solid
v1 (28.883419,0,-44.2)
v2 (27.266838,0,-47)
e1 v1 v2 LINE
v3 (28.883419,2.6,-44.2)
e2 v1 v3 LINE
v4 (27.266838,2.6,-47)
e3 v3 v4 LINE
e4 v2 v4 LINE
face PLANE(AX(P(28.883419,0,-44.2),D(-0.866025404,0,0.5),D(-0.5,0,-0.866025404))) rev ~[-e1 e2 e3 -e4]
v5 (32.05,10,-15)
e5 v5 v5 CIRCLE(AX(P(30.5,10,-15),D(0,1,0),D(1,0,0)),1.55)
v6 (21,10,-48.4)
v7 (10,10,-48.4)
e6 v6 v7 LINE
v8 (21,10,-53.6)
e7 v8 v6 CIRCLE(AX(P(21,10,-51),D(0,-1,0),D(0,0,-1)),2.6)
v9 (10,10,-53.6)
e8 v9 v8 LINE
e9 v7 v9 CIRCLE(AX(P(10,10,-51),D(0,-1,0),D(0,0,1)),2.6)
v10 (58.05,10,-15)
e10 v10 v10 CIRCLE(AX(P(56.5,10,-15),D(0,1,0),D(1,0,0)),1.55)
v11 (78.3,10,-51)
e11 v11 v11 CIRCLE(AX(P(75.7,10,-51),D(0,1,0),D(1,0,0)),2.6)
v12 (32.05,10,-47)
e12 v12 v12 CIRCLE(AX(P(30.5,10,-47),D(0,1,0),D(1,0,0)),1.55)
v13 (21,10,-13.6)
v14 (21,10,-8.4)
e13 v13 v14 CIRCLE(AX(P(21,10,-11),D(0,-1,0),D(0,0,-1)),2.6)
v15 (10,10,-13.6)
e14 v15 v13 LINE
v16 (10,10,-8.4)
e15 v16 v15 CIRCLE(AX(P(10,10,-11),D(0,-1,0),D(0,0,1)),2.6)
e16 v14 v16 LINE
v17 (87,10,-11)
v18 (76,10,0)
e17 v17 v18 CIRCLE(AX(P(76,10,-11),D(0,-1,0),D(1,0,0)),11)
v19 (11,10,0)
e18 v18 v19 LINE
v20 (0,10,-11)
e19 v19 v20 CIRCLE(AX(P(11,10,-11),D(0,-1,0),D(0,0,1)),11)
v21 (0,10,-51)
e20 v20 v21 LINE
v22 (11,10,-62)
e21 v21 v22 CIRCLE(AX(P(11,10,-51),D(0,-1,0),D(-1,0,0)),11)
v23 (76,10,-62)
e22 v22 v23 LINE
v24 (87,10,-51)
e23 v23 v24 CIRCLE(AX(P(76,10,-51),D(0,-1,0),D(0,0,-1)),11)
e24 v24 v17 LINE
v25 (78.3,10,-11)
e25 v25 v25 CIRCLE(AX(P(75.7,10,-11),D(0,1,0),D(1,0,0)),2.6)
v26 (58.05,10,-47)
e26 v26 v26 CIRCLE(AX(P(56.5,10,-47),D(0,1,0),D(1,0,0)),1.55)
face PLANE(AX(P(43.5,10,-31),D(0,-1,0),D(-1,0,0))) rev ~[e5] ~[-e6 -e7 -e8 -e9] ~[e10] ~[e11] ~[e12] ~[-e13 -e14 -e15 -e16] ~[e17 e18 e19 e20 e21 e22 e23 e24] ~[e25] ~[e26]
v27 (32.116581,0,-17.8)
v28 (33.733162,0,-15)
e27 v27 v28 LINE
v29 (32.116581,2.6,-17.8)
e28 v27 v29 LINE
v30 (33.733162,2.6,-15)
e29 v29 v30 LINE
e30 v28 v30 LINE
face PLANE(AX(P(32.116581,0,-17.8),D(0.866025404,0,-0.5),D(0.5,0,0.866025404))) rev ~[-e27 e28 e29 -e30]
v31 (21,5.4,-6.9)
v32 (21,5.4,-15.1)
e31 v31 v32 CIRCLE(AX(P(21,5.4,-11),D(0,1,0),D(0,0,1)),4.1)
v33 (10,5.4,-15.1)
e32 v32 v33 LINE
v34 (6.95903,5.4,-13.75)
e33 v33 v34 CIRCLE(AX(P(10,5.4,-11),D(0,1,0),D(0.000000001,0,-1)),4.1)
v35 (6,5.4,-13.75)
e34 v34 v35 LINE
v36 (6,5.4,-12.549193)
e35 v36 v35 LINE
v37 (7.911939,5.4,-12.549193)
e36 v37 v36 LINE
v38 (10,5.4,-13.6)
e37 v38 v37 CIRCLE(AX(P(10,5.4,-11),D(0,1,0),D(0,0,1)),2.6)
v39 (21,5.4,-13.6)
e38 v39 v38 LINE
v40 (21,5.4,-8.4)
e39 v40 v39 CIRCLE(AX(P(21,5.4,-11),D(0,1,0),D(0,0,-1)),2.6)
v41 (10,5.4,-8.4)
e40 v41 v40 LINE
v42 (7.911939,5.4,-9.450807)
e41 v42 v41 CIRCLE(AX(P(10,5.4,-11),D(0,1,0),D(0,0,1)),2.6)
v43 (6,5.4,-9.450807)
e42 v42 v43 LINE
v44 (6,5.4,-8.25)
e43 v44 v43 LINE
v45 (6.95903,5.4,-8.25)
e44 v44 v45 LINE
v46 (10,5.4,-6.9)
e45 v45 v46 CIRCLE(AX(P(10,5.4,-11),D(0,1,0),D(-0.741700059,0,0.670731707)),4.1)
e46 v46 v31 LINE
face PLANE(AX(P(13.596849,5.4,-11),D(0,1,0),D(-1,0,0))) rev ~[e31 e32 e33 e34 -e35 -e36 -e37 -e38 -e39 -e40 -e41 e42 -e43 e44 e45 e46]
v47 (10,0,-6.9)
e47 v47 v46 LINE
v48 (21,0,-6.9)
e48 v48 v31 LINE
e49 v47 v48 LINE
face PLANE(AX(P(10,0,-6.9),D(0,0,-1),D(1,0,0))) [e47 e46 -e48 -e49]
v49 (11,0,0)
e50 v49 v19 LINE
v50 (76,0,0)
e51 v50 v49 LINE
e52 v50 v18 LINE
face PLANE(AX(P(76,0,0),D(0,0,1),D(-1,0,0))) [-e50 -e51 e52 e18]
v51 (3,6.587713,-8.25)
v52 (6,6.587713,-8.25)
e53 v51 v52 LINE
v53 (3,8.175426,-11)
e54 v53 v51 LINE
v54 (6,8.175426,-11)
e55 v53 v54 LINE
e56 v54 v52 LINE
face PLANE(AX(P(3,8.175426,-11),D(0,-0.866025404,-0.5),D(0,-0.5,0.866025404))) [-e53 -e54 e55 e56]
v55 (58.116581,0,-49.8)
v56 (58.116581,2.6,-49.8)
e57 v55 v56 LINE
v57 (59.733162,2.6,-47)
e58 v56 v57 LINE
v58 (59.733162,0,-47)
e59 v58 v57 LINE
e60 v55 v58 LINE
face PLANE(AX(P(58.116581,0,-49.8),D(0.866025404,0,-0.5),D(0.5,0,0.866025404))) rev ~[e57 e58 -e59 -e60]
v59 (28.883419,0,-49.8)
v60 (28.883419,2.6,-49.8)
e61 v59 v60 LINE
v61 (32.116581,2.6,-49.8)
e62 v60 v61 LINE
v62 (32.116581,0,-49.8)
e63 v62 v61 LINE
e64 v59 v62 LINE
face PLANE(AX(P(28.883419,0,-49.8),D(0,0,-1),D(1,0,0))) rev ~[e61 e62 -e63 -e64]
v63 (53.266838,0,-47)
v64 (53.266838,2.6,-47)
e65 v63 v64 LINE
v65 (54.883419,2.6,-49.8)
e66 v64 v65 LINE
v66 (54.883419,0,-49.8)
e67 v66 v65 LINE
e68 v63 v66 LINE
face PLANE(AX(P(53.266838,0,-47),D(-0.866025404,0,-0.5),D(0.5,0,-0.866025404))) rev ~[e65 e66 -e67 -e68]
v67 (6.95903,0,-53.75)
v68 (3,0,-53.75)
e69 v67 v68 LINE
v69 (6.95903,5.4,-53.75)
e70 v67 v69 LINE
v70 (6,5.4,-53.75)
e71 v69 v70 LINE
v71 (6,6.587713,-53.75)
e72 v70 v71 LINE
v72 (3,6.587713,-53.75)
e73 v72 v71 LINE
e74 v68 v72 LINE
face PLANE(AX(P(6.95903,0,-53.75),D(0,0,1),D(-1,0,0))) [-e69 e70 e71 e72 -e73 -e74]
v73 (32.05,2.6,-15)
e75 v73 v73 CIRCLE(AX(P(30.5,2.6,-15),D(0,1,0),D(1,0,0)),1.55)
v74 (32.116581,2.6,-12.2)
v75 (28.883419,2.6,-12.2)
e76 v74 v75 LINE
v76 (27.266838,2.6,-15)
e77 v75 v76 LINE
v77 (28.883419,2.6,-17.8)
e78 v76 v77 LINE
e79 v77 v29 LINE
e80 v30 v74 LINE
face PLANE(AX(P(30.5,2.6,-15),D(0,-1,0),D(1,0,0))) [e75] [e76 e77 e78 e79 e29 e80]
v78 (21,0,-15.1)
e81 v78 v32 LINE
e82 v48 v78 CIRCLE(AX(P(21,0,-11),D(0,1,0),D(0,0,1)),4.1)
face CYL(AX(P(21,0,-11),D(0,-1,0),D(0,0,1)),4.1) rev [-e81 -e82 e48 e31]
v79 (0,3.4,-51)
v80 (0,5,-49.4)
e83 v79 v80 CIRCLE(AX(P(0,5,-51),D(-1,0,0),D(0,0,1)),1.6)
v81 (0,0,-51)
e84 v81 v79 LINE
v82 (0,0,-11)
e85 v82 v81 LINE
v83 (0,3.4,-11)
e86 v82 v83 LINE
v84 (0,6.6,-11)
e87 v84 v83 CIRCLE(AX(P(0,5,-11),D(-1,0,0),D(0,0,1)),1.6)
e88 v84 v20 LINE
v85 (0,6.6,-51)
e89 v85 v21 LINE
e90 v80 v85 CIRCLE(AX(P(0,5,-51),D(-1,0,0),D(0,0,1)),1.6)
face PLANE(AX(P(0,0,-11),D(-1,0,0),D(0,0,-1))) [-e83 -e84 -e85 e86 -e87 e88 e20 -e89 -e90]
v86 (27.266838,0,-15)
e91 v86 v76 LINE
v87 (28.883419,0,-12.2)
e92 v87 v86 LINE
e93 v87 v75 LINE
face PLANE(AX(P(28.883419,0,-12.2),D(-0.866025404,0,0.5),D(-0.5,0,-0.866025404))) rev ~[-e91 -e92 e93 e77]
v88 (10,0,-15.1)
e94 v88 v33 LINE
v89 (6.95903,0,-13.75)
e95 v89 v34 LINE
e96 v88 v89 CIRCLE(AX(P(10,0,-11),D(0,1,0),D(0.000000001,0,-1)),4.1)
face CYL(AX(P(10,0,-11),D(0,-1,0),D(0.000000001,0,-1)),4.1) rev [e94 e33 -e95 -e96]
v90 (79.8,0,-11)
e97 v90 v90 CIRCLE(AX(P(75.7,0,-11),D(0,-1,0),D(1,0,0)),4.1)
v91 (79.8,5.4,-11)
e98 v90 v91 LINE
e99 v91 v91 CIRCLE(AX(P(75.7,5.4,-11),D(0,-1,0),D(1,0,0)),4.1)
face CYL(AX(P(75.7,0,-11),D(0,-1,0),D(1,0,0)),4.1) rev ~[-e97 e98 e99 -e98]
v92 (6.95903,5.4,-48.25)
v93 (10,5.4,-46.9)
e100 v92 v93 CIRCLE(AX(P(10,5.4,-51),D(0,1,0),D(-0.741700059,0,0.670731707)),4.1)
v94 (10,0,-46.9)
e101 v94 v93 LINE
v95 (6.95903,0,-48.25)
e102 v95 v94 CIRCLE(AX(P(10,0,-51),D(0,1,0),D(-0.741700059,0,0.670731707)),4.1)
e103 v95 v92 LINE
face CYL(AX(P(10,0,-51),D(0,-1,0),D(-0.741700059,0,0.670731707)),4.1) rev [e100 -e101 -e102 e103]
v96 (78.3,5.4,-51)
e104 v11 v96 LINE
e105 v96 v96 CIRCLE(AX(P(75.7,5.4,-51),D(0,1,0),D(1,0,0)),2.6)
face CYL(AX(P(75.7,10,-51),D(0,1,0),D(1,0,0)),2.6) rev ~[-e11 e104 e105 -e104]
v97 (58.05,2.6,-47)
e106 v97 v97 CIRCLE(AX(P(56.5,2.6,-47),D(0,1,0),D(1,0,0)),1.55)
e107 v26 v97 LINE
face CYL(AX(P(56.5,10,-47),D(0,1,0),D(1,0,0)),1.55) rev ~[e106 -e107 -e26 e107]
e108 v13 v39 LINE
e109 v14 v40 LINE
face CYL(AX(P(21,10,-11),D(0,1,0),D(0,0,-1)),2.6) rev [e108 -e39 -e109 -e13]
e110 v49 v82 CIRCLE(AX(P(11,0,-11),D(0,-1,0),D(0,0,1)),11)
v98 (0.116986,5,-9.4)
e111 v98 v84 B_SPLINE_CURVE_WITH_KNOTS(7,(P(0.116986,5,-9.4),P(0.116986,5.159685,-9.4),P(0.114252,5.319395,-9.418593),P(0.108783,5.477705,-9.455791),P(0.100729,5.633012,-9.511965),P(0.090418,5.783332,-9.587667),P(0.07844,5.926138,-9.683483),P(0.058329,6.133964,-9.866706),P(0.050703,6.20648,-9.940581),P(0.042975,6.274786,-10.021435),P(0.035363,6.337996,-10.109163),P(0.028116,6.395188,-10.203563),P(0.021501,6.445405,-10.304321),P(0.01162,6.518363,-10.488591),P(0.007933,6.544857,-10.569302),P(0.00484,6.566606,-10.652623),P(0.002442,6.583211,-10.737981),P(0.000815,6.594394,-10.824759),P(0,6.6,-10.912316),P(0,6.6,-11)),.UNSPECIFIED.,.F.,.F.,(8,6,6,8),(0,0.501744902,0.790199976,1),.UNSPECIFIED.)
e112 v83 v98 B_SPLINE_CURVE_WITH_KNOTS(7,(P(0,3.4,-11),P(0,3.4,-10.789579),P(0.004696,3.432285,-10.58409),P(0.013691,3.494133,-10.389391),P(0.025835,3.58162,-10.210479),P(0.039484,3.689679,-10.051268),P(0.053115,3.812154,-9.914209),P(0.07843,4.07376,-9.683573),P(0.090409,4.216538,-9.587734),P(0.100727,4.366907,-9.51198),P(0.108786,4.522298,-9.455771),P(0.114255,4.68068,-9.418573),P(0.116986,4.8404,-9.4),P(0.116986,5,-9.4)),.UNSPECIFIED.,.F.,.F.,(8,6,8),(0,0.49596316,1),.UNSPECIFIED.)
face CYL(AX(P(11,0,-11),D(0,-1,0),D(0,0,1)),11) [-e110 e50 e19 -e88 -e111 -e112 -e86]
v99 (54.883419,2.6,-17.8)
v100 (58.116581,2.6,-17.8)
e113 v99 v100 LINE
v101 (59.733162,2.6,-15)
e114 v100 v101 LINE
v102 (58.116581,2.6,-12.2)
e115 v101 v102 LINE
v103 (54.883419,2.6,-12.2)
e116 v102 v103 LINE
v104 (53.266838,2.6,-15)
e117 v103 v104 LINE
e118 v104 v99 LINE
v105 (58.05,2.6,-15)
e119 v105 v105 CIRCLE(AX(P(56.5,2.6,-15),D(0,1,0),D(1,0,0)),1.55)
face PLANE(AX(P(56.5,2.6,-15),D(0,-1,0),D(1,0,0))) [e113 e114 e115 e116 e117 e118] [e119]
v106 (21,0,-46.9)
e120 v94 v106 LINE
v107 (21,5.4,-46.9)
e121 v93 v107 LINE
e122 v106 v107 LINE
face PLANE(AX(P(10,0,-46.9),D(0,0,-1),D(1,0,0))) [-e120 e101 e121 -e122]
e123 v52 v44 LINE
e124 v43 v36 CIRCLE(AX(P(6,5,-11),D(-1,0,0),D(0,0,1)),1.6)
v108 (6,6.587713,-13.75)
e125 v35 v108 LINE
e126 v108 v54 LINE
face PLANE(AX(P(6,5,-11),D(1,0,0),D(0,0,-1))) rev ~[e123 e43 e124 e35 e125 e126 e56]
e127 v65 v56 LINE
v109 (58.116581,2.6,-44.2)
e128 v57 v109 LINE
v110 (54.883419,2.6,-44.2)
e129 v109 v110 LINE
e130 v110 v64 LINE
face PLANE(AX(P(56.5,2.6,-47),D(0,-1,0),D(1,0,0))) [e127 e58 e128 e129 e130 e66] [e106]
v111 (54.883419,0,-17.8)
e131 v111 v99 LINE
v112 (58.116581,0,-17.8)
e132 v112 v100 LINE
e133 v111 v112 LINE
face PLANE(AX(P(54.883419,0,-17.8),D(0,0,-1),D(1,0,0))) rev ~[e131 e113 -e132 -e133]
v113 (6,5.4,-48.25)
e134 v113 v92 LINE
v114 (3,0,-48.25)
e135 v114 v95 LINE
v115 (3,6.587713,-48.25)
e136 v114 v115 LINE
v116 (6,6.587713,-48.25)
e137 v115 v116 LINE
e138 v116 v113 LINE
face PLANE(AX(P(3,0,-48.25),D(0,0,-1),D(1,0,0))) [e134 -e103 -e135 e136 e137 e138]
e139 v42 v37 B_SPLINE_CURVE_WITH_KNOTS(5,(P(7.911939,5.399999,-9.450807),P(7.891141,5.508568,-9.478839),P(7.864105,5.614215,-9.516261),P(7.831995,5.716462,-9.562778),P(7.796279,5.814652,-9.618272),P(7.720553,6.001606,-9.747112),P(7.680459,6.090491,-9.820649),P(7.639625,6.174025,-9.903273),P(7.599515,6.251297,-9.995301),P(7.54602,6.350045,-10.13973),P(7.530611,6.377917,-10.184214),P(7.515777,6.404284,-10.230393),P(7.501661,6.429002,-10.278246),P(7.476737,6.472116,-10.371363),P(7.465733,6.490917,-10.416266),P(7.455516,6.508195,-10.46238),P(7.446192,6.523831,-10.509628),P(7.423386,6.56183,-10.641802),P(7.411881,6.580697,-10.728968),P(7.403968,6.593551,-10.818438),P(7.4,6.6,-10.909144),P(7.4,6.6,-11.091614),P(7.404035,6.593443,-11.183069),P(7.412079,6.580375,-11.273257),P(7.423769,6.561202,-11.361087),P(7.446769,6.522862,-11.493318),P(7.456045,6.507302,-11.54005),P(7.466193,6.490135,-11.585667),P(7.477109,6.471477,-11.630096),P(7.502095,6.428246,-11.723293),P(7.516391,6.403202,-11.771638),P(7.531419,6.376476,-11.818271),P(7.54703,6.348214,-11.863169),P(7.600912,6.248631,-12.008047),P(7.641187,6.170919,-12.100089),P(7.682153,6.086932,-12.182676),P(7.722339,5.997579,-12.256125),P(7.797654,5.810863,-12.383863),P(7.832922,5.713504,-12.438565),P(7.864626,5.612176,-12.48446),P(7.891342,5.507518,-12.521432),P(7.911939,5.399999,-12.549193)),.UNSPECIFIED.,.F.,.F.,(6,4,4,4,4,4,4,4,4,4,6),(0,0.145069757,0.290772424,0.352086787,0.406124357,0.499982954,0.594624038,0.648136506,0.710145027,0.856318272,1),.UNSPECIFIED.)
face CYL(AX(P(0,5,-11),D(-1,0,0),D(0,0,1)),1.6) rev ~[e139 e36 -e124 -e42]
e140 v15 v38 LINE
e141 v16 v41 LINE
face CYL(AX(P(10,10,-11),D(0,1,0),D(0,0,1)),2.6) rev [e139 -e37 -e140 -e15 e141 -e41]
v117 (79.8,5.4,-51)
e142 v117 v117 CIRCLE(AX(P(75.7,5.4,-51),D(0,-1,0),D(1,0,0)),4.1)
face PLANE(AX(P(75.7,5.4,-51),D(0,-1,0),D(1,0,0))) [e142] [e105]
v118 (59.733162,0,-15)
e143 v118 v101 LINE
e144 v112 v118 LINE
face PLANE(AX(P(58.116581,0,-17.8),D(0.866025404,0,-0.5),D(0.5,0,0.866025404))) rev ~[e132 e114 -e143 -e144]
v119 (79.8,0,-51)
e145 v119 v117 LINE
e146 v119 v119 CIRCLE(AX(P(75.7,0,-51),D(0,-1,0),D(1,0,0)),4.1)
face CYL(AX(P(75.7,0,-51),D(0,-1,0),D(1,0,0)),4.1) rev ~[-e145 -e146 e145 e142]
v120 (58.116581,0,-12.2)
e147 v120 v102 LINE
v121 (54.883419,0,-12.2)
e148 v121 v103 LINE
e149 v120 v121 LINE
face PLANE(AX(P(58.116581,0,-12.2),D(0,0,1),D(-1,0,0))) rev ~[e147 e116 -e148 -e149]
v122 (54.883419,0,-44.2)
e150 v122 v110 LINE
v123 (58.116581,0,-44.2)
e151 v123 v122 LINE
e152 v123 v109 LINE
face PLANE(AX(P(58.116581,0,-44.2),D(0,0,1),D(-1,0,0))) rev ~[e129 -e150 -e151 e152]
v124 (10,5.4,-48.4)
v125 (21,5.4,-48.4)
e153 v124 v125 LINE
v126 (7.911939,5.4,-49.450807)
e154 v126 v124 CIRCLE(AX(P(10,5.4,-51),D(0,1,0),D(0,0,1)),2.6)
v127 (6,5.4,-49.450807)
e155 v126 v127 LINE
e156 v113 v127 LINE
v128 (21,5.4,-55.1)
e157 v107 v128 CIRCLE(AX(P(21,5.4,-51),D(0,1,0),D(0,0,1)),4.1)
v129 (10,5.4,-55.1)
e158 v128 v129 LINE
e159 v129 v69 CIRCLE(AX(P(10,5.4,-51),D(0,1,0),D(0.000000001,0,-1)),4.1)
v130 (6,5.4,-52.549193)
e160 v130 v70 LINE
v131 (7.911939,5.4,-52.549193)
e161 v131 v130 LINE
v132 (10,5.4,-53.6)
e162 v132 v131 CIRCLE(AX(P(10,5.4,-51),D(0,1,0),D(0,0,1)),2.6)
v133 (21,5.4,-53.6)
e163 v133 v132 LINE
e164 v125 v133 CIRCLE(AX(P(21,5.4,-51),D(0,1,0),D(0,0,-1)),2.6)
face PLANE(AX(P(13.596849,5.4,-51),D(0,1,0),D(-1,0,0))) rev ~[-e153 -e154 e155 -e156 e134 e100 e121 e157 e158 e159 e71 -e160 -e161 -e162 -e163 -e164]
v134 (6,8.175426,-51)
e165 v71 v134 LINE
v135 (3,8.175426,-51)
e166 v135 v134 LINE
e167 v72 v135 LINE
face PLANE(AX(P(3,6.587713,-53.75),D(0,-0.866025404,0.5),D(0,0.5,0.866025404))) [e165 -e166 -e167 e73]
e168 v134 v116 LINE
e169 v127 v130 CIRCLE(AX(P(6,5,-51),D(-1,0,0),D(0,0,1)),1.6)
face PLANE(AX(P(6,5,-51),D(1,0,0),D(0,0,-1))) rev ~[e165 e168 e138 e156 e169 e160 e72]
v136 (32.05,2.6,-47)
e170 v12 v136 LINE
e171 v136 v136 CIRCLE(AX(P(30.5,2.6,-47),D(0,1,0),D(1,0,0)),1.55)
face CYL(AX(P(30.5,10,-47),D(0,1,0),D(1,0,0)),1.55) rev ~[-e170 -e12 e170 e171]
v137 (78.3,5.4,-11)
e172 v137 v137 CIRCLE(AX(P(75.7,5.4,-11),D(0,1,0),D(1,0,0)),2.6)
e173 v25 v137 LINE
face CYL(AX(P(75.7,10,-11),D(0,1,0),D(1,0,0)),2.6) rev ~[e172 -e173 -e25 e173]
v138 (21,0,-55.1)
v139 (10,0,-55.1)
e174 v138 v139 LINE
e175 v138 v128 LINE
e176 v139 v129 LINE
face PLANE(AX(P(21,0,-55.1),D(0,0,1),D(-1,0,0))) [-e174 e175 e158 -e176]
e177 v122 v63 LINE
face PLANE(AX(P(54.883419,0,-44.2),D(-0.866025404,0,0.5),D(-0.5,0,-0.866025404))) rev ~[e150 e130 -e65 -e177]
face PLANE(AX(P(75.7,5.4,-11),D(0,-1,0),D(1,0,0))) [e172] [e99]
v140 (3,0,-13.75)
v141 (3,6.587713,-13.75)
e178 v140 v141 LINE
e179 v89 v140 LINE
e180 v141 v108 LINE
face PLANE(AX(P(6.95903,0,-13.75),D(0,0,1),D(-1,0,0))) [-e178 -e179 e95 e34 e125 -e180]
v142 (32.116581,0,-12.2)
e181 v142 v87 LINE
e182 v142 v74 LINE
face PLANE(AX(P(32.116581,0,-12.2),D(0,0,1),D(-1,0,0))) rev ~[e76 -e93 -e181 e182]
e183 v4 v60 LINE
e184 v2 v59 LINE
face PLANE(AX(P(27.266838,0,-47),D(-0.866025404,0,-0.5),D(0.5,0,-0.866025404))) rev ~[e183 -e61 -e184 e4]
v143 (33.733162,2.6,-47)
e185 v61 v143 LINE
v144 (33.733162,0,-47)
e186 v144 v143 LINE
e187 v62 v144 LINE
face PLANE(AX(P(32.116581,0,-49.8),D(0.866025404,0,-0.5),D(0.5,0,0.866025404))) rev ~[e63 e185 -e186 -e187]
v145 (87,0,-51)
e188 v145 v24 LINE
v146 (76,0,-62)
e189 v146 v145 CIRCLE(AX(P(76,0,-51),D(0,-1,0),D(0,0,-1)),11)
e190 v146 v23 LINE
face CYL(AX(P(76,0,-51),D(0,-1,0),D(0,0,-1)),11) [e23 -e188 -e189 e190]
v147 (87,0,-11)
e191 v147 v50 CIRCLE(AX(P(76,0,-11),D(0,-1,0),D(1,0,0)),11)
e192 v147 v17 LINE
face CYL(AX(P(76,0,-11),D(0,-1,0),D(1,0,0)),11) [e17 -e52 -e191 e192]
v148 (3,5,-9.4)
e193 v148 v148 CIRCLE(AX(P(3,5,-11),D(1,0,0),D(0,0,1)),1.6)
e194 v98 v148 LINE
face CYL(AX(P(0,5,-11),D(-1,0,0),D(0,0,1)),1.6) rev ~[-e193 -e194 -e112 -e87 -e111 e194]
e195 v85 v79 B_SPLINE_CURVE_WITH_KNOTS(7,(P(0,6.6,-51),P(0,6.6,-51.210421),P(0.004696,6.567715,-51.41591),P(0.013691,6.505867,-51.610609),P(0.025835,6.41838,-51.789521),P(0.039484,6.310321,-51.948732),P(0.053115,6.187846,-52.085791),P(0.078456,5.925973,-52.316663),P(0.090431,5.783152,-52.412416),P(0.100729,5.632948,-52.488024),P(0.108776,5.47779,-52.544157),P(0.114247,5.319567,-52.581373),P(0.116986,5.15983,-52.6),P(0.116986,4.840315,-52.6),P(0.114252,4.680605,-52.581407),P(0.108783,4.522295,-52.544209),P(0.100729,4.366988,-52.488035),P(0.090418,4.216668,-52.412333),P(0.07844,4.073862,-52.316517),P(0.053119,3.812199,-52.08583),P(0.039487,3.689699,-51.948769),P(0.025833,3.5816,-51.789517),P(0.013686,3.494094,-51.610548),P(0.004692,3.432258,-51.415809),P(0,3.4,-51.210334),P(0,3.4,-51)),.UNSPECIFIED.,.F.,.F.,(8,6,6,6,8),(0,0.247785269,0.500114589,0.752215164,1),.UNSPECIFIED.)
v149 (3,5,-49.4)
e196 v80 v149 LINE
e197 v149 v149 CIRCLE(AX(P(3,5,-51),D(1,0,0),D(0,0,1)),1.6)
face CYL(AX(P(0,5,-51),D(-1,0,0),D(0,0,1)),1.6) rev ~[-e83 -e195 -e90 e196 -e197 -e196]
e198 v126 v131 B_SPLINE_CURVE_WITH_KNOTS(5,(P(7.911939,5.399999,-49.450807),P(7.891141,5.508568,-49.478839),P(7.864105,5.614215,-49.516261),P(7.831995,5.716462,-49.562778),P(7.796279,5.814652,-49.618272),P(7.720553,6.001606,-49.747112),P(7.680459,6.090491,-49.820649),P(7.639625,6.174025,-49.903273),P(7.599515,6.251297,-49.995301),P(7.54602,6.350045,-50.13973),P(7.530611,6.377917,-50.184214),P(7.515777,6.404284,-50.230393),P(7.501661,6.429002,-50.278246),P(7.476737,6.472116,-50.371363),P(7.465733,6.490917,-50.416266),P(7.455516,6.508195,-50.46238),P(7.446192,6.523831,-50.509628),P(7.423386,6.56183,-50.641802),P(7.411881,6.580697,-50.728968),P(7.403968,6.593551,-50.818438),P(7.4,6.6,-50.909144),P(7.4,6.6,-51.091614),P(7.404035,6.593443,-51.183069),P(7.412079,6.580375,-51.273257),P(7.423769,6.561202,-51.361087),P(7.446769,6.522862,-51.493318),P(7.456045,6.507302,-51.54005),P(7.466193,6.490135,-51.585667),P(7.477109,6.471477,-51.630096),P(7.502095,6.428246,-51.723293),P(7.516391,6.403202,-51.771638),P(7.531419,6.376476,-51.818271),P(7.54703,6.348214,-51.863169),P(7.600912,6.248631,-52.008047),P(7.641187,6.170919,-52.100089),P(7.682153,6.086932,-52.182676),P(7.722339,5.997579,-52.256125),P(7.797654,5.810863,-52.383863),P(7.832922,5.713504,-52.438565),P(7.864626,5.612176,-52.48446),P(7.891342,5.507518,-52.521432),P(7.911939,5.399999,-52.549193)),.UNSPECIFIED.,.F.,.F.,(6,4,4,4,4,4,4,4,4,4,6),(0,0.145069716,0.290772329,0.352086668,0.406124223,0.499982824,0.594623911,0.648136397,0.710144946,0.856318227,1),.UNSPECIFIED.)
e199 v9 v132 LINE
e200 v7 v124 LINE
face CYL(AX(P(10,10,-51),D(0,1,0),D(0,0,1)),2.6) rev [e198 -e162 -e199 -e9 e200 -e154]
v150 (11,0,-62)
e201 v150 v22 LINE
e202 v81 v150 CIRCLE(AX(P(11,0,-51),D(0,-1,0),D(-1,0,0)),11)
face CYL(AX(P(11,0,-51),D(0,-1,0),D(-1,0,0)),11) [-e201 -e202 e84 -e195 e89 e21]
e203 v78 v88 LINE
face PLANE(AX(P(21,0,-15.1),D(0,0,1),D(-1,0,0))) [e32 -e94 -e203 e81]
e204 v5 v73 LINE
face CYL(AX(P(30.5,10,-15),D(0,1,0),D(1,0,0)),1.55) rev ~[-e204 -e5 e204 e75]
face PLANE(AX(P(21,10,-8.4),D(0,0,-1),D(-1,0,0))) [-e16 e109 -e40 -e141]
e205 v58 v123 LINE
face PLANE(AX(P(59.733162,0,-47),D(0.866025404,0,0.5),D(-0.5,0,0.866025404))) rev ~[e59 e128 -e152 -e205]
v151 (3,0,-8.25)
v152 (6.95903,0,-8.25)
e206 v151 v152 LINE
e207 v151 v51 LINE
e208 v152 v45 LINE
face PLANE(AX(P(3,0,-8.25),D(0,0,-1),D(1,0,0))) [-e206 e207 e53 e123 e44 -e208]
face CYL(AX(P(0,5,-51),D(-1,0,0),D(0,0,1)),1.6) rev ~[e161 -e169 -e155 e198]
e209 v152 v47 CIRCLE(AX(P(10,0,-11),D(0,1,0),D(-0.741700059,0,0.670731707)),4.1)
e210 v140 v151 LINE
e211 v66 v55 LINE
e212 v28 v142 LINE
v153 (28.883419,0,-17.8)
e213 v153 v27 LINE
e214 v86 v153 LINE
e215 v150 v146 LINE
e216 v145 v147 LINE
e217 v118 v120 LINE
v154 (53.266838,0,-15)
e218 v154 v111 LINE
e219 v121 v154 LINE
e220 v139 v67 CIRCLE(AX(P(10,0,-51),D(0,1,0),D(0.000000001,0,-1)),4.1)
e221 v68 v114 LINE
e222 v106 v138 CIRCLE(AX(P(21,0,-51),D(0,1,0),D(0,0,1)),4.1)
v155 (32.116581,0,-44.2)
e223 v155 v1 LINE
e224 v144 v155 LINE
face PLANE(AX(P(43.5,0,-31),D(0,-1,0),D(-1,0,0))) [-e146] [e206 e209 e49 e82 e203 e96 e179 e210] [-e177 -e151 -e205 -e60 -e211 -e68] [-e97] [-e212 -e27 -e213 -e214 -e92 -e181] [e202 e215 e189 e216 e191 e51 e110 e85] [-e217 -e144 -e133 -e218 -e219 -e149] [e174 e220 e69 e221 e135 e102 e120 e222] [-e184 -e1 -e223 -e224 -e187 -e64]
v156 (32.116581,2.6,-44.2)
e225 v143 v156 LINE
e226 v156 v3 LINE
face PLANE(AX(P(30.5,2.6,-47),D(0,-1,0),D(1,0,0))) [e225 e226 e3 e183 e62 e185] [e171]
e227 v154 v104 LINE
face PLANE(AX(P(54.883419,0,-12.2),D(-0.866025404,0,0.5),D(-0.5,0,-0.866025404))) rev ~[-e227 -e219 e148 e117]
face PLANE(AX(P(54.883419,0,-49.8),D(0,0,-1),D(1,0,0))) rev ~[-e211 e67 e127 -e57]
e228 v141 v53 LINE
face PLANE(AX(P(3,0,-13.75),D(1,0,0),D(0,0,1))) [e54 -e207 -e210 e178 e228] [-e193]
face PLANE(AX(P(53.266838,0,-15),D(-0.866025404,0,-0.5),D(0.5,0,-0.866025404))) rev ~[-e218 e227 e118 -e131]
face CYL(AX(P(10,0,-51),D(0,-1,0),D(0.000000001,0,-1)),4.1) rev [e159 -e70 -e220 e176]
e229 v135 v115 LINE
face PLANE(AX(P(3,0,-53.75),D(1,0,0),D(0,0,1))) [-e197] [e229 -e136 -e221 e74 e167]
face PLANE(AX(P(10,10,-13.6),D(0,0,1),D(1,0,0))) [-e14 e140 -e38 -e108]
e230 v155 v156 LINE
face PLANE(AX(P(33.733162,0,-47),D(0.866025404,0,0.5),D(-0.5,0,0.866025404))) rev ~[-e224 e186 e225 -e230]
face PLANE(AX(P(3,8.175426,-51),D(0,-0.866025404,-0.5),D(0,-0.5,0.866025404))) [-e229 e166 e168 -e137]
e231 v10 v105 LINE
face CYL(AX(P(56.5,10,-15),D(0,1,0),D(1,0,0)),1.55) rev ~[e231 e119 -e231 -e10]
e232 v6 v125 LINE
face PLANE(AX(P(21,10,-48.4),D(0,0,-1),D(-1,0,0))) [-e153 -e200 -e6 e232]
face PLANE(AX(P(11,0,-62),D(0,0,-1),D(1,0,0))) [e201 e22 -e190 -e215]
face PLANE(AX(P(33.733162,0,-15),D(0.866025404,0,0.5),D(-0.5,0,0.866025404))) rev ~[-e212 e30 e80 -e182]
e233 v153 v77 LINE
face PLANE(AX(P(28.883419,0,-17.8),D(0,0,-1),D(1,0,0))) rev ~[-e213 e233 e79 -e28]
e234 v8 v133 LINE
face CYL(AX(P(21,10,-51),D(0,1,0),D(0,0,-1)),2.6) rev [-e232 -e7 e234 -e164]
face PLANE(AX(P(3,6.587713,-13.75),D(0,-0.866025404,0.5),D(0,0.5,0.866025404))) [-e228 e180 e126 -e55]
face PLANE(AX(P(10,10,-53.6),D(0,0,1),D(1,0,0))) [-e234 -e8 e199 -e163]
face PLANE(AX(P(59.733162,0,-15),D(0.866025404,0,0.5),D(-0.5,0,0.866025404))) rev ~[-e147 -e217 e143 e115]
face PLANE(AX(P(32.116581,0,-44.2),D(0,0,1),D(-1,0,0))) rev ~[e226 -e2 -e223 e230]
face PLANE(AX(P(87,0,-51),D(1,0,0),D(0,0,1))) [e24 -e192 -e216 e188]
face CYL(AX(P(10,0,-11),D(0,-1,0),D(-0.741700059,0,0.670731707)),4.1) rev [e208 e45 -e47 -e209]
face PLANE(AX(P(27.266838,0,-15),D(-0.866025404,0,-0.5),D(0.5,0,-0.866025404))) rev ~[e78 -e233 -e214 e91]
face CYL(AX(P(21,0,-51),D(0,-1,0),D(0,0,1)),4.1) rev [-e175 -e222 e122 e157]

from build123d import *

# Parameters (mm, degrees)
BOSS_EXTRUDE1_DEPTH = 10
CUT_EXTRUDE5_REACH  = 12
SKETCH8_R           = 2.6
SKETCH9_R           = 4.1
CUT_EXTRUDE6_DEPTH  = 5.4
CUT_EXTRUDE7_REACH  = 89
SKETCH11_R          = 1.6
CUT_EXTRUDE8_DEPTH  = 3
CUT_EXTRUDE9_REACH  = 12
SKETCH14_R          = 1.55
CUT_EXTRUDE10_DEPTH = 2.6


with BuildPart() as part:
    # Sketch1 → Boss-Extrude1 (new body)
    with BuildSketch(Plane(origin=(0, 0, 0), x_dir=(1, 0, 0), z_dir=(0, 1, 0))):
        with BuildLine():
            Line((0, 11), (0, 51))
            ThreePointArc((0, 51), (3.221825407, 58.778174593), (11, 62))
            Line((11, 62), (76, 62))
            ThreePointArc((76, 62), (83.778174593, 58.778174593), (87, 51))
            Line((87, 51), (87, 11))
            ThreePointArc((87, 11), (83.778174593, 3.221825407), (76, 0))
            Line((76, 0), (11, 0))
            ThreePointArc((11, 0), (3.221825407, 3.221825407), (0, 11))
        make_face()
    extrude(amount=BOSS_EXTRUDE1_DEPTH)

    # Sketch8 → Cut-Extrude5 (cut, up to next)
    with BuildSketch(Plane(origin=(0, 10, 0), x_dir=(1, 0, 0), z_dir=(0, 1, 0)), mode=Mode.PRIVATE) as cut_extrude5_sk1:
        with Locations((75.7, 51)):
            Circle(SKETCH8_R)
    cut_extrude5_tool1 = extrude(cut_extrude5_sk1.sketch, amount=-CUT_EXTRUDE5_REACH, mode=Mode.PRIVATE) & part.part
    add(cut_extrude5_tool1.solids().sort_by_distance((75.7, 10, -51))[0], mode=Mode.SUBTRACT)
    # Sketch8 → Cut-Extrude5 (cut, up to next)
    with BuildSketch(Plane(origin=(0, 10, 0), x_dir=(1, 0, 0), z_dir=(0, 1, 0)), mode=Mode.PRIVATE) as cut_extrude5_sk2:
        with Locations((75.7, 11)):
            Circle(SKETCH8_R)
    cut_extrude5_tool2 = extrude(cut_extrude5_sk2.sketch, amount=-CUT_EXTRUDE5_REACH, mode=Mode.PRIVATE) & part.part
    add(cut_extrude5_tool2.solids().sort_by_distance((75.7, 10, -11))[0], mode=Mode.SUBTRACT)
    # Sketch8 → Cut-Extrude5 (cut, up to next)
    with BuildSketch(Plane(origin=(0, 10, 0), x_dir=(1, 0, 0), z_dir=(0, 1, 0)), mode=Mode.PRIVATE) as cut_extrude5_sk3:
        with BuildLine():
            Line((10, 53.6), (21, 53.6))
            ThreePointArc((21, 53.6), (23.6, 51), (21, 48.4))
            Line((21, 48.4), (10, 48.4))
            ThreePointArc((10, 48.4), (7.4, 51), (10, 53.6))
        make_face()
    cut_extrude5_tool3 = extrude(cut_extrude5_sk3.sketch, amount=-CUT_EXTRUDE5_REACH, mode=Mode.PRIVATE) & part.part
    add(cut_extrude5_tool3.solids().sort_by_distance((15.5, 10, -51))[0], mode=Mode.SUBTRACT)
    # Sketch8 → Cut-Extrude5 (cut, up to next)
    with BuildSketch(Plane(origin=(0, 10, 0), x_dir=(1, 0, 0), z_dir=(0, 1, 0)), mode=Mode.PRIVATE) as cut_extrude5_sk4:
        with BuildLine():
            Line((10, 13.6), (21, 13.6))
            ThreePointArc((21, 13.6), (23.6, 11), (21, 8.4))
            Line((21, 8.4), (10, 8.4))
            ThreePointArc((10, 8.4), (7.4, 11), (10, 13.6))
        make_face()
    cut_extrude5_tool4 = extrude(cut_extrude5_sk4.sketch, amount=-CUT_EXTRUDE5_REACH, mode=Mode.PRIVATE) & part.part
    add(cut_extrude5_tool4.solids().sort_by_distance((15.5, 10, -11))[0], mode=Mode.SUBTRACT)

    # Sketch9 → Cut-Extrude6 (cut)
    with BuildSketch(Plane.XZ):
        with Locations((75.7, -11)):
            Circle(SKETCH9_R)
        with Locations((75.7, -51)):
            Circle(SKETCH9_R)
        with BuildLine():
            Line((10, -6.9), (21, -6.9))
            ThreePointArc((21, -6.9), (25.1, -11), (21, -15.1))
            Line((21, -15.1), (10, -15.1))
            ThreePointArc((10, -15.1), (8.336419524, -14.747332385), (6.95902976, -13.75))
            Line((6.95902976, -13.75), (3, -13.75))
            Line((3, -13.75), (3, -8.25))
            Line((3, -8.25), (6.95902976, -8.25))
            ThreePointArc((6.95902976, -8.25), (8.336419524, -7.252667615), (10, -6.9))
        make_face()
        with BuildLine():
            Line((10, -46.9), (21, -46.9))
            ThreePointArc((21, -46.9), (25.1, -51), (21, -55.1))
            Line((21, -55.1), (10, -55.1))
            ThreePointArc((10, -55.1), (8.336419524, -54.747332385), (6.95902976, -53.75))
            Line((6.95902976, -53.75), (3, -53.75))
            Line((3, -53.75), (3, -48.25))
            Line((3, -48.25), (6.95902976, -48.25))
            ThreePointArc((6.95902976, -48.25), (8.336419524, -47.252667615), (10, -46.9))
        make_face()
    extrude(amount=-CUT_EXTRUDE6_DEPTH, mode=Mode.SUBTRACT)

    # Sketch11 → Cut-Extrude7 (cut, up to next)
    with BuildSketch(Plane.ZY, mode=Mode.PRIVATE) as cut_extrude7_sk1:
        with Locations((-11, 5)):
            Circle(SKETCH11_R)
    cut_extrude7_tool1 = extrude(cut_extrude7_sk1.sketch, amount=-CUT_EXTRUDE7_REACH, mode=Mode.PRIVATE) & part.part
    add(cut_extrude7_tool1.solids().sort_by_distance((0, 5, -11))[0], mode=Mode.SUBTRACT)
    # Sketch11 → Cut-Extrude7 (cut, up to next)
    with BuildSketch(Plane.ZY, mode=Mode.PRIVATE) as cut_extrude7_sk2:
        with Locations((-51, 5)):
            Circle(SKETCH11_R)
    cut_extrude7_tool2 = extrude(cut_extrude7_sk2.sketch, amount=-CUT_EXTRUDE7_REACH, mode=Mode.PRIVATE) & part.part
    add(cut_extrude7_tool2.solids().sort_by_distance((0, 5, -51))[0], mode=Mode.SUBTRACT)

    # Sketch12 → Cut-Extrude8 (cut)
    with BuildSketch(Plane(origin=(3, 0, 0), x_dir=(0, 0, -1), z_dir=(1, 0, 0))):
        Polygon((48.25, 6.58771324), (48.25, 3.41228676), (51, 1.824573519), (53.75, 3.41228676), (53.75, 6.58771324), (51, 8.175426481), align=None)
        Polygon((13.75, 3.41228676), (13.75, 6.58771324), (11, 8.175426481), (8.25, 6.58771324), (8.25, 3.41228676), (11, 1.824573519), align=None)
    extrude(amount=CUT_EXTRUDE8_DEPTH, mode=Mode.SUBTRACT)

    # Sketch14 → Cut-Extrude9 (cut, up to next)
    with BuildSketch(Plane(origin=(0, 10, 0), x_dir=(1, 0, 0), z_dir=(0, 1, 0)), mode=Mode.PRIVATE) as cut_extrude9_sk1:
        with Locations((30.5, 47)):
            Circle(SKETCH14_R)
    cut_extrude9_tool1 = extrude(cut_extrude9_sk1.sketch, amount=-CUT_EXTRUDE9_REACH, mode=Mode.PRIVATE) & part.part
    add(cut_extrude9_tool1.solids().sort_by_distance((30.5, 10, -47))[0], mode=Mode.SUBTRACT)
    # Sketch14 → Cut-Extrude9 (cut, up to next)
    with BuildSketch(Plane(origin=(0, 10, 0), x_dir=(1, 0, 0), z_dir=(0, 1, 0)), mode=Mode.PRIVATE) as cut_extrude9_sk2:
        with Locations((56.5, 47)):
            Circle(SKETCH14_R)
    cut_extrude9_tool2 = extrude(cut_extrude9_sk2.sketch, amount=-CUT_EXTRUDE9_REACH, mode=Mode.PRIVATE) & part.part
    add(cut_extrude9_tool2.solids().sort_by_distance((56.5, 10, -47))[0], mode=Mode.SUBTRACT)
    # Sketch14 → Cut-Extrude9 (cut, up to next)
    with BuildSketch(Plane(origin=(0, 10, 0), x_dir=(1, 0, 0), z_dir=(0, 1, 0)), mode=Mode.PRIVATE) as cut_extrude9_sk3:
        with Locations((30.5, 15)):
            Circle(SKETCH14_R)
    cut_extrude9_tool3 = extrude(cut_extrude9_sk3.sketch, amount=-CUT_EXTRUDE9_REACH, mode=Mode.PRIVATE) & part.part
    add(cut_extrude9_tool3.solids().sort_by_distance((30.5, 10, -15))[0], mode=Mode.SUBTRACT)
    # Sketch14 → Cut-Extrude9 (cut, up to next)
    with BuildSketch(Plane(origin=(0, 10, 0), x_dir=(1, 0, 0), z_dir=(0, 1, 0)), mode=Mode.PRIVATE) as cut_extrude9_sk4:
        with Locations((56.5, 15)):
            Circle(SKETCH14_R)
    cut_extrude9_tool4 = extrude(cut_extrude9_sk4.sketch, amount=-CUT_EXTRUDE9_REACH, mode=Mode.PRIVATE) & part.part
    add(cut_extrude9_tool4.solids().sort_by_distance((56.5, 10, -15))[0], mode=Mode.SUBTRACT)

    # Sketch15 → Cut-Extrude10 (cut)
    with BuildSketch(Plane.XZ):
        Polygon((33.733161507, -15), (32.116580754, -12.2), (28.883419246, -12.2), (27.266838493, -15), (28.883419246, -17.8), (32.116580754, -17.8), align=None)
        Polygon((59.733161507, -15), (58.116580754, -12.2), (54.883419246, -12.2), (53.266838493, -15), (54.883419246, -17.8), (58.116580754, -17.8), align=None)
        Polygon((59.733161507, -47), (58.116580754, -44.2), (54.883419246, -44.2), (53.266838493, -47), (54.883419246, -49.8), (58.116580754, -49.8), align=None)
        Polygon((33.733161507, -47), (32.116580754, -44.2), (28.883419246, -44.2), (27.266838493, -47), (28.883419246, -49.8), (32.116580754, -49.8), align=None)
    extrude(amount=-CUT_EXTRUDE10_DEPTH, mode=Mode.SUBTRACT)


solid = part.part
